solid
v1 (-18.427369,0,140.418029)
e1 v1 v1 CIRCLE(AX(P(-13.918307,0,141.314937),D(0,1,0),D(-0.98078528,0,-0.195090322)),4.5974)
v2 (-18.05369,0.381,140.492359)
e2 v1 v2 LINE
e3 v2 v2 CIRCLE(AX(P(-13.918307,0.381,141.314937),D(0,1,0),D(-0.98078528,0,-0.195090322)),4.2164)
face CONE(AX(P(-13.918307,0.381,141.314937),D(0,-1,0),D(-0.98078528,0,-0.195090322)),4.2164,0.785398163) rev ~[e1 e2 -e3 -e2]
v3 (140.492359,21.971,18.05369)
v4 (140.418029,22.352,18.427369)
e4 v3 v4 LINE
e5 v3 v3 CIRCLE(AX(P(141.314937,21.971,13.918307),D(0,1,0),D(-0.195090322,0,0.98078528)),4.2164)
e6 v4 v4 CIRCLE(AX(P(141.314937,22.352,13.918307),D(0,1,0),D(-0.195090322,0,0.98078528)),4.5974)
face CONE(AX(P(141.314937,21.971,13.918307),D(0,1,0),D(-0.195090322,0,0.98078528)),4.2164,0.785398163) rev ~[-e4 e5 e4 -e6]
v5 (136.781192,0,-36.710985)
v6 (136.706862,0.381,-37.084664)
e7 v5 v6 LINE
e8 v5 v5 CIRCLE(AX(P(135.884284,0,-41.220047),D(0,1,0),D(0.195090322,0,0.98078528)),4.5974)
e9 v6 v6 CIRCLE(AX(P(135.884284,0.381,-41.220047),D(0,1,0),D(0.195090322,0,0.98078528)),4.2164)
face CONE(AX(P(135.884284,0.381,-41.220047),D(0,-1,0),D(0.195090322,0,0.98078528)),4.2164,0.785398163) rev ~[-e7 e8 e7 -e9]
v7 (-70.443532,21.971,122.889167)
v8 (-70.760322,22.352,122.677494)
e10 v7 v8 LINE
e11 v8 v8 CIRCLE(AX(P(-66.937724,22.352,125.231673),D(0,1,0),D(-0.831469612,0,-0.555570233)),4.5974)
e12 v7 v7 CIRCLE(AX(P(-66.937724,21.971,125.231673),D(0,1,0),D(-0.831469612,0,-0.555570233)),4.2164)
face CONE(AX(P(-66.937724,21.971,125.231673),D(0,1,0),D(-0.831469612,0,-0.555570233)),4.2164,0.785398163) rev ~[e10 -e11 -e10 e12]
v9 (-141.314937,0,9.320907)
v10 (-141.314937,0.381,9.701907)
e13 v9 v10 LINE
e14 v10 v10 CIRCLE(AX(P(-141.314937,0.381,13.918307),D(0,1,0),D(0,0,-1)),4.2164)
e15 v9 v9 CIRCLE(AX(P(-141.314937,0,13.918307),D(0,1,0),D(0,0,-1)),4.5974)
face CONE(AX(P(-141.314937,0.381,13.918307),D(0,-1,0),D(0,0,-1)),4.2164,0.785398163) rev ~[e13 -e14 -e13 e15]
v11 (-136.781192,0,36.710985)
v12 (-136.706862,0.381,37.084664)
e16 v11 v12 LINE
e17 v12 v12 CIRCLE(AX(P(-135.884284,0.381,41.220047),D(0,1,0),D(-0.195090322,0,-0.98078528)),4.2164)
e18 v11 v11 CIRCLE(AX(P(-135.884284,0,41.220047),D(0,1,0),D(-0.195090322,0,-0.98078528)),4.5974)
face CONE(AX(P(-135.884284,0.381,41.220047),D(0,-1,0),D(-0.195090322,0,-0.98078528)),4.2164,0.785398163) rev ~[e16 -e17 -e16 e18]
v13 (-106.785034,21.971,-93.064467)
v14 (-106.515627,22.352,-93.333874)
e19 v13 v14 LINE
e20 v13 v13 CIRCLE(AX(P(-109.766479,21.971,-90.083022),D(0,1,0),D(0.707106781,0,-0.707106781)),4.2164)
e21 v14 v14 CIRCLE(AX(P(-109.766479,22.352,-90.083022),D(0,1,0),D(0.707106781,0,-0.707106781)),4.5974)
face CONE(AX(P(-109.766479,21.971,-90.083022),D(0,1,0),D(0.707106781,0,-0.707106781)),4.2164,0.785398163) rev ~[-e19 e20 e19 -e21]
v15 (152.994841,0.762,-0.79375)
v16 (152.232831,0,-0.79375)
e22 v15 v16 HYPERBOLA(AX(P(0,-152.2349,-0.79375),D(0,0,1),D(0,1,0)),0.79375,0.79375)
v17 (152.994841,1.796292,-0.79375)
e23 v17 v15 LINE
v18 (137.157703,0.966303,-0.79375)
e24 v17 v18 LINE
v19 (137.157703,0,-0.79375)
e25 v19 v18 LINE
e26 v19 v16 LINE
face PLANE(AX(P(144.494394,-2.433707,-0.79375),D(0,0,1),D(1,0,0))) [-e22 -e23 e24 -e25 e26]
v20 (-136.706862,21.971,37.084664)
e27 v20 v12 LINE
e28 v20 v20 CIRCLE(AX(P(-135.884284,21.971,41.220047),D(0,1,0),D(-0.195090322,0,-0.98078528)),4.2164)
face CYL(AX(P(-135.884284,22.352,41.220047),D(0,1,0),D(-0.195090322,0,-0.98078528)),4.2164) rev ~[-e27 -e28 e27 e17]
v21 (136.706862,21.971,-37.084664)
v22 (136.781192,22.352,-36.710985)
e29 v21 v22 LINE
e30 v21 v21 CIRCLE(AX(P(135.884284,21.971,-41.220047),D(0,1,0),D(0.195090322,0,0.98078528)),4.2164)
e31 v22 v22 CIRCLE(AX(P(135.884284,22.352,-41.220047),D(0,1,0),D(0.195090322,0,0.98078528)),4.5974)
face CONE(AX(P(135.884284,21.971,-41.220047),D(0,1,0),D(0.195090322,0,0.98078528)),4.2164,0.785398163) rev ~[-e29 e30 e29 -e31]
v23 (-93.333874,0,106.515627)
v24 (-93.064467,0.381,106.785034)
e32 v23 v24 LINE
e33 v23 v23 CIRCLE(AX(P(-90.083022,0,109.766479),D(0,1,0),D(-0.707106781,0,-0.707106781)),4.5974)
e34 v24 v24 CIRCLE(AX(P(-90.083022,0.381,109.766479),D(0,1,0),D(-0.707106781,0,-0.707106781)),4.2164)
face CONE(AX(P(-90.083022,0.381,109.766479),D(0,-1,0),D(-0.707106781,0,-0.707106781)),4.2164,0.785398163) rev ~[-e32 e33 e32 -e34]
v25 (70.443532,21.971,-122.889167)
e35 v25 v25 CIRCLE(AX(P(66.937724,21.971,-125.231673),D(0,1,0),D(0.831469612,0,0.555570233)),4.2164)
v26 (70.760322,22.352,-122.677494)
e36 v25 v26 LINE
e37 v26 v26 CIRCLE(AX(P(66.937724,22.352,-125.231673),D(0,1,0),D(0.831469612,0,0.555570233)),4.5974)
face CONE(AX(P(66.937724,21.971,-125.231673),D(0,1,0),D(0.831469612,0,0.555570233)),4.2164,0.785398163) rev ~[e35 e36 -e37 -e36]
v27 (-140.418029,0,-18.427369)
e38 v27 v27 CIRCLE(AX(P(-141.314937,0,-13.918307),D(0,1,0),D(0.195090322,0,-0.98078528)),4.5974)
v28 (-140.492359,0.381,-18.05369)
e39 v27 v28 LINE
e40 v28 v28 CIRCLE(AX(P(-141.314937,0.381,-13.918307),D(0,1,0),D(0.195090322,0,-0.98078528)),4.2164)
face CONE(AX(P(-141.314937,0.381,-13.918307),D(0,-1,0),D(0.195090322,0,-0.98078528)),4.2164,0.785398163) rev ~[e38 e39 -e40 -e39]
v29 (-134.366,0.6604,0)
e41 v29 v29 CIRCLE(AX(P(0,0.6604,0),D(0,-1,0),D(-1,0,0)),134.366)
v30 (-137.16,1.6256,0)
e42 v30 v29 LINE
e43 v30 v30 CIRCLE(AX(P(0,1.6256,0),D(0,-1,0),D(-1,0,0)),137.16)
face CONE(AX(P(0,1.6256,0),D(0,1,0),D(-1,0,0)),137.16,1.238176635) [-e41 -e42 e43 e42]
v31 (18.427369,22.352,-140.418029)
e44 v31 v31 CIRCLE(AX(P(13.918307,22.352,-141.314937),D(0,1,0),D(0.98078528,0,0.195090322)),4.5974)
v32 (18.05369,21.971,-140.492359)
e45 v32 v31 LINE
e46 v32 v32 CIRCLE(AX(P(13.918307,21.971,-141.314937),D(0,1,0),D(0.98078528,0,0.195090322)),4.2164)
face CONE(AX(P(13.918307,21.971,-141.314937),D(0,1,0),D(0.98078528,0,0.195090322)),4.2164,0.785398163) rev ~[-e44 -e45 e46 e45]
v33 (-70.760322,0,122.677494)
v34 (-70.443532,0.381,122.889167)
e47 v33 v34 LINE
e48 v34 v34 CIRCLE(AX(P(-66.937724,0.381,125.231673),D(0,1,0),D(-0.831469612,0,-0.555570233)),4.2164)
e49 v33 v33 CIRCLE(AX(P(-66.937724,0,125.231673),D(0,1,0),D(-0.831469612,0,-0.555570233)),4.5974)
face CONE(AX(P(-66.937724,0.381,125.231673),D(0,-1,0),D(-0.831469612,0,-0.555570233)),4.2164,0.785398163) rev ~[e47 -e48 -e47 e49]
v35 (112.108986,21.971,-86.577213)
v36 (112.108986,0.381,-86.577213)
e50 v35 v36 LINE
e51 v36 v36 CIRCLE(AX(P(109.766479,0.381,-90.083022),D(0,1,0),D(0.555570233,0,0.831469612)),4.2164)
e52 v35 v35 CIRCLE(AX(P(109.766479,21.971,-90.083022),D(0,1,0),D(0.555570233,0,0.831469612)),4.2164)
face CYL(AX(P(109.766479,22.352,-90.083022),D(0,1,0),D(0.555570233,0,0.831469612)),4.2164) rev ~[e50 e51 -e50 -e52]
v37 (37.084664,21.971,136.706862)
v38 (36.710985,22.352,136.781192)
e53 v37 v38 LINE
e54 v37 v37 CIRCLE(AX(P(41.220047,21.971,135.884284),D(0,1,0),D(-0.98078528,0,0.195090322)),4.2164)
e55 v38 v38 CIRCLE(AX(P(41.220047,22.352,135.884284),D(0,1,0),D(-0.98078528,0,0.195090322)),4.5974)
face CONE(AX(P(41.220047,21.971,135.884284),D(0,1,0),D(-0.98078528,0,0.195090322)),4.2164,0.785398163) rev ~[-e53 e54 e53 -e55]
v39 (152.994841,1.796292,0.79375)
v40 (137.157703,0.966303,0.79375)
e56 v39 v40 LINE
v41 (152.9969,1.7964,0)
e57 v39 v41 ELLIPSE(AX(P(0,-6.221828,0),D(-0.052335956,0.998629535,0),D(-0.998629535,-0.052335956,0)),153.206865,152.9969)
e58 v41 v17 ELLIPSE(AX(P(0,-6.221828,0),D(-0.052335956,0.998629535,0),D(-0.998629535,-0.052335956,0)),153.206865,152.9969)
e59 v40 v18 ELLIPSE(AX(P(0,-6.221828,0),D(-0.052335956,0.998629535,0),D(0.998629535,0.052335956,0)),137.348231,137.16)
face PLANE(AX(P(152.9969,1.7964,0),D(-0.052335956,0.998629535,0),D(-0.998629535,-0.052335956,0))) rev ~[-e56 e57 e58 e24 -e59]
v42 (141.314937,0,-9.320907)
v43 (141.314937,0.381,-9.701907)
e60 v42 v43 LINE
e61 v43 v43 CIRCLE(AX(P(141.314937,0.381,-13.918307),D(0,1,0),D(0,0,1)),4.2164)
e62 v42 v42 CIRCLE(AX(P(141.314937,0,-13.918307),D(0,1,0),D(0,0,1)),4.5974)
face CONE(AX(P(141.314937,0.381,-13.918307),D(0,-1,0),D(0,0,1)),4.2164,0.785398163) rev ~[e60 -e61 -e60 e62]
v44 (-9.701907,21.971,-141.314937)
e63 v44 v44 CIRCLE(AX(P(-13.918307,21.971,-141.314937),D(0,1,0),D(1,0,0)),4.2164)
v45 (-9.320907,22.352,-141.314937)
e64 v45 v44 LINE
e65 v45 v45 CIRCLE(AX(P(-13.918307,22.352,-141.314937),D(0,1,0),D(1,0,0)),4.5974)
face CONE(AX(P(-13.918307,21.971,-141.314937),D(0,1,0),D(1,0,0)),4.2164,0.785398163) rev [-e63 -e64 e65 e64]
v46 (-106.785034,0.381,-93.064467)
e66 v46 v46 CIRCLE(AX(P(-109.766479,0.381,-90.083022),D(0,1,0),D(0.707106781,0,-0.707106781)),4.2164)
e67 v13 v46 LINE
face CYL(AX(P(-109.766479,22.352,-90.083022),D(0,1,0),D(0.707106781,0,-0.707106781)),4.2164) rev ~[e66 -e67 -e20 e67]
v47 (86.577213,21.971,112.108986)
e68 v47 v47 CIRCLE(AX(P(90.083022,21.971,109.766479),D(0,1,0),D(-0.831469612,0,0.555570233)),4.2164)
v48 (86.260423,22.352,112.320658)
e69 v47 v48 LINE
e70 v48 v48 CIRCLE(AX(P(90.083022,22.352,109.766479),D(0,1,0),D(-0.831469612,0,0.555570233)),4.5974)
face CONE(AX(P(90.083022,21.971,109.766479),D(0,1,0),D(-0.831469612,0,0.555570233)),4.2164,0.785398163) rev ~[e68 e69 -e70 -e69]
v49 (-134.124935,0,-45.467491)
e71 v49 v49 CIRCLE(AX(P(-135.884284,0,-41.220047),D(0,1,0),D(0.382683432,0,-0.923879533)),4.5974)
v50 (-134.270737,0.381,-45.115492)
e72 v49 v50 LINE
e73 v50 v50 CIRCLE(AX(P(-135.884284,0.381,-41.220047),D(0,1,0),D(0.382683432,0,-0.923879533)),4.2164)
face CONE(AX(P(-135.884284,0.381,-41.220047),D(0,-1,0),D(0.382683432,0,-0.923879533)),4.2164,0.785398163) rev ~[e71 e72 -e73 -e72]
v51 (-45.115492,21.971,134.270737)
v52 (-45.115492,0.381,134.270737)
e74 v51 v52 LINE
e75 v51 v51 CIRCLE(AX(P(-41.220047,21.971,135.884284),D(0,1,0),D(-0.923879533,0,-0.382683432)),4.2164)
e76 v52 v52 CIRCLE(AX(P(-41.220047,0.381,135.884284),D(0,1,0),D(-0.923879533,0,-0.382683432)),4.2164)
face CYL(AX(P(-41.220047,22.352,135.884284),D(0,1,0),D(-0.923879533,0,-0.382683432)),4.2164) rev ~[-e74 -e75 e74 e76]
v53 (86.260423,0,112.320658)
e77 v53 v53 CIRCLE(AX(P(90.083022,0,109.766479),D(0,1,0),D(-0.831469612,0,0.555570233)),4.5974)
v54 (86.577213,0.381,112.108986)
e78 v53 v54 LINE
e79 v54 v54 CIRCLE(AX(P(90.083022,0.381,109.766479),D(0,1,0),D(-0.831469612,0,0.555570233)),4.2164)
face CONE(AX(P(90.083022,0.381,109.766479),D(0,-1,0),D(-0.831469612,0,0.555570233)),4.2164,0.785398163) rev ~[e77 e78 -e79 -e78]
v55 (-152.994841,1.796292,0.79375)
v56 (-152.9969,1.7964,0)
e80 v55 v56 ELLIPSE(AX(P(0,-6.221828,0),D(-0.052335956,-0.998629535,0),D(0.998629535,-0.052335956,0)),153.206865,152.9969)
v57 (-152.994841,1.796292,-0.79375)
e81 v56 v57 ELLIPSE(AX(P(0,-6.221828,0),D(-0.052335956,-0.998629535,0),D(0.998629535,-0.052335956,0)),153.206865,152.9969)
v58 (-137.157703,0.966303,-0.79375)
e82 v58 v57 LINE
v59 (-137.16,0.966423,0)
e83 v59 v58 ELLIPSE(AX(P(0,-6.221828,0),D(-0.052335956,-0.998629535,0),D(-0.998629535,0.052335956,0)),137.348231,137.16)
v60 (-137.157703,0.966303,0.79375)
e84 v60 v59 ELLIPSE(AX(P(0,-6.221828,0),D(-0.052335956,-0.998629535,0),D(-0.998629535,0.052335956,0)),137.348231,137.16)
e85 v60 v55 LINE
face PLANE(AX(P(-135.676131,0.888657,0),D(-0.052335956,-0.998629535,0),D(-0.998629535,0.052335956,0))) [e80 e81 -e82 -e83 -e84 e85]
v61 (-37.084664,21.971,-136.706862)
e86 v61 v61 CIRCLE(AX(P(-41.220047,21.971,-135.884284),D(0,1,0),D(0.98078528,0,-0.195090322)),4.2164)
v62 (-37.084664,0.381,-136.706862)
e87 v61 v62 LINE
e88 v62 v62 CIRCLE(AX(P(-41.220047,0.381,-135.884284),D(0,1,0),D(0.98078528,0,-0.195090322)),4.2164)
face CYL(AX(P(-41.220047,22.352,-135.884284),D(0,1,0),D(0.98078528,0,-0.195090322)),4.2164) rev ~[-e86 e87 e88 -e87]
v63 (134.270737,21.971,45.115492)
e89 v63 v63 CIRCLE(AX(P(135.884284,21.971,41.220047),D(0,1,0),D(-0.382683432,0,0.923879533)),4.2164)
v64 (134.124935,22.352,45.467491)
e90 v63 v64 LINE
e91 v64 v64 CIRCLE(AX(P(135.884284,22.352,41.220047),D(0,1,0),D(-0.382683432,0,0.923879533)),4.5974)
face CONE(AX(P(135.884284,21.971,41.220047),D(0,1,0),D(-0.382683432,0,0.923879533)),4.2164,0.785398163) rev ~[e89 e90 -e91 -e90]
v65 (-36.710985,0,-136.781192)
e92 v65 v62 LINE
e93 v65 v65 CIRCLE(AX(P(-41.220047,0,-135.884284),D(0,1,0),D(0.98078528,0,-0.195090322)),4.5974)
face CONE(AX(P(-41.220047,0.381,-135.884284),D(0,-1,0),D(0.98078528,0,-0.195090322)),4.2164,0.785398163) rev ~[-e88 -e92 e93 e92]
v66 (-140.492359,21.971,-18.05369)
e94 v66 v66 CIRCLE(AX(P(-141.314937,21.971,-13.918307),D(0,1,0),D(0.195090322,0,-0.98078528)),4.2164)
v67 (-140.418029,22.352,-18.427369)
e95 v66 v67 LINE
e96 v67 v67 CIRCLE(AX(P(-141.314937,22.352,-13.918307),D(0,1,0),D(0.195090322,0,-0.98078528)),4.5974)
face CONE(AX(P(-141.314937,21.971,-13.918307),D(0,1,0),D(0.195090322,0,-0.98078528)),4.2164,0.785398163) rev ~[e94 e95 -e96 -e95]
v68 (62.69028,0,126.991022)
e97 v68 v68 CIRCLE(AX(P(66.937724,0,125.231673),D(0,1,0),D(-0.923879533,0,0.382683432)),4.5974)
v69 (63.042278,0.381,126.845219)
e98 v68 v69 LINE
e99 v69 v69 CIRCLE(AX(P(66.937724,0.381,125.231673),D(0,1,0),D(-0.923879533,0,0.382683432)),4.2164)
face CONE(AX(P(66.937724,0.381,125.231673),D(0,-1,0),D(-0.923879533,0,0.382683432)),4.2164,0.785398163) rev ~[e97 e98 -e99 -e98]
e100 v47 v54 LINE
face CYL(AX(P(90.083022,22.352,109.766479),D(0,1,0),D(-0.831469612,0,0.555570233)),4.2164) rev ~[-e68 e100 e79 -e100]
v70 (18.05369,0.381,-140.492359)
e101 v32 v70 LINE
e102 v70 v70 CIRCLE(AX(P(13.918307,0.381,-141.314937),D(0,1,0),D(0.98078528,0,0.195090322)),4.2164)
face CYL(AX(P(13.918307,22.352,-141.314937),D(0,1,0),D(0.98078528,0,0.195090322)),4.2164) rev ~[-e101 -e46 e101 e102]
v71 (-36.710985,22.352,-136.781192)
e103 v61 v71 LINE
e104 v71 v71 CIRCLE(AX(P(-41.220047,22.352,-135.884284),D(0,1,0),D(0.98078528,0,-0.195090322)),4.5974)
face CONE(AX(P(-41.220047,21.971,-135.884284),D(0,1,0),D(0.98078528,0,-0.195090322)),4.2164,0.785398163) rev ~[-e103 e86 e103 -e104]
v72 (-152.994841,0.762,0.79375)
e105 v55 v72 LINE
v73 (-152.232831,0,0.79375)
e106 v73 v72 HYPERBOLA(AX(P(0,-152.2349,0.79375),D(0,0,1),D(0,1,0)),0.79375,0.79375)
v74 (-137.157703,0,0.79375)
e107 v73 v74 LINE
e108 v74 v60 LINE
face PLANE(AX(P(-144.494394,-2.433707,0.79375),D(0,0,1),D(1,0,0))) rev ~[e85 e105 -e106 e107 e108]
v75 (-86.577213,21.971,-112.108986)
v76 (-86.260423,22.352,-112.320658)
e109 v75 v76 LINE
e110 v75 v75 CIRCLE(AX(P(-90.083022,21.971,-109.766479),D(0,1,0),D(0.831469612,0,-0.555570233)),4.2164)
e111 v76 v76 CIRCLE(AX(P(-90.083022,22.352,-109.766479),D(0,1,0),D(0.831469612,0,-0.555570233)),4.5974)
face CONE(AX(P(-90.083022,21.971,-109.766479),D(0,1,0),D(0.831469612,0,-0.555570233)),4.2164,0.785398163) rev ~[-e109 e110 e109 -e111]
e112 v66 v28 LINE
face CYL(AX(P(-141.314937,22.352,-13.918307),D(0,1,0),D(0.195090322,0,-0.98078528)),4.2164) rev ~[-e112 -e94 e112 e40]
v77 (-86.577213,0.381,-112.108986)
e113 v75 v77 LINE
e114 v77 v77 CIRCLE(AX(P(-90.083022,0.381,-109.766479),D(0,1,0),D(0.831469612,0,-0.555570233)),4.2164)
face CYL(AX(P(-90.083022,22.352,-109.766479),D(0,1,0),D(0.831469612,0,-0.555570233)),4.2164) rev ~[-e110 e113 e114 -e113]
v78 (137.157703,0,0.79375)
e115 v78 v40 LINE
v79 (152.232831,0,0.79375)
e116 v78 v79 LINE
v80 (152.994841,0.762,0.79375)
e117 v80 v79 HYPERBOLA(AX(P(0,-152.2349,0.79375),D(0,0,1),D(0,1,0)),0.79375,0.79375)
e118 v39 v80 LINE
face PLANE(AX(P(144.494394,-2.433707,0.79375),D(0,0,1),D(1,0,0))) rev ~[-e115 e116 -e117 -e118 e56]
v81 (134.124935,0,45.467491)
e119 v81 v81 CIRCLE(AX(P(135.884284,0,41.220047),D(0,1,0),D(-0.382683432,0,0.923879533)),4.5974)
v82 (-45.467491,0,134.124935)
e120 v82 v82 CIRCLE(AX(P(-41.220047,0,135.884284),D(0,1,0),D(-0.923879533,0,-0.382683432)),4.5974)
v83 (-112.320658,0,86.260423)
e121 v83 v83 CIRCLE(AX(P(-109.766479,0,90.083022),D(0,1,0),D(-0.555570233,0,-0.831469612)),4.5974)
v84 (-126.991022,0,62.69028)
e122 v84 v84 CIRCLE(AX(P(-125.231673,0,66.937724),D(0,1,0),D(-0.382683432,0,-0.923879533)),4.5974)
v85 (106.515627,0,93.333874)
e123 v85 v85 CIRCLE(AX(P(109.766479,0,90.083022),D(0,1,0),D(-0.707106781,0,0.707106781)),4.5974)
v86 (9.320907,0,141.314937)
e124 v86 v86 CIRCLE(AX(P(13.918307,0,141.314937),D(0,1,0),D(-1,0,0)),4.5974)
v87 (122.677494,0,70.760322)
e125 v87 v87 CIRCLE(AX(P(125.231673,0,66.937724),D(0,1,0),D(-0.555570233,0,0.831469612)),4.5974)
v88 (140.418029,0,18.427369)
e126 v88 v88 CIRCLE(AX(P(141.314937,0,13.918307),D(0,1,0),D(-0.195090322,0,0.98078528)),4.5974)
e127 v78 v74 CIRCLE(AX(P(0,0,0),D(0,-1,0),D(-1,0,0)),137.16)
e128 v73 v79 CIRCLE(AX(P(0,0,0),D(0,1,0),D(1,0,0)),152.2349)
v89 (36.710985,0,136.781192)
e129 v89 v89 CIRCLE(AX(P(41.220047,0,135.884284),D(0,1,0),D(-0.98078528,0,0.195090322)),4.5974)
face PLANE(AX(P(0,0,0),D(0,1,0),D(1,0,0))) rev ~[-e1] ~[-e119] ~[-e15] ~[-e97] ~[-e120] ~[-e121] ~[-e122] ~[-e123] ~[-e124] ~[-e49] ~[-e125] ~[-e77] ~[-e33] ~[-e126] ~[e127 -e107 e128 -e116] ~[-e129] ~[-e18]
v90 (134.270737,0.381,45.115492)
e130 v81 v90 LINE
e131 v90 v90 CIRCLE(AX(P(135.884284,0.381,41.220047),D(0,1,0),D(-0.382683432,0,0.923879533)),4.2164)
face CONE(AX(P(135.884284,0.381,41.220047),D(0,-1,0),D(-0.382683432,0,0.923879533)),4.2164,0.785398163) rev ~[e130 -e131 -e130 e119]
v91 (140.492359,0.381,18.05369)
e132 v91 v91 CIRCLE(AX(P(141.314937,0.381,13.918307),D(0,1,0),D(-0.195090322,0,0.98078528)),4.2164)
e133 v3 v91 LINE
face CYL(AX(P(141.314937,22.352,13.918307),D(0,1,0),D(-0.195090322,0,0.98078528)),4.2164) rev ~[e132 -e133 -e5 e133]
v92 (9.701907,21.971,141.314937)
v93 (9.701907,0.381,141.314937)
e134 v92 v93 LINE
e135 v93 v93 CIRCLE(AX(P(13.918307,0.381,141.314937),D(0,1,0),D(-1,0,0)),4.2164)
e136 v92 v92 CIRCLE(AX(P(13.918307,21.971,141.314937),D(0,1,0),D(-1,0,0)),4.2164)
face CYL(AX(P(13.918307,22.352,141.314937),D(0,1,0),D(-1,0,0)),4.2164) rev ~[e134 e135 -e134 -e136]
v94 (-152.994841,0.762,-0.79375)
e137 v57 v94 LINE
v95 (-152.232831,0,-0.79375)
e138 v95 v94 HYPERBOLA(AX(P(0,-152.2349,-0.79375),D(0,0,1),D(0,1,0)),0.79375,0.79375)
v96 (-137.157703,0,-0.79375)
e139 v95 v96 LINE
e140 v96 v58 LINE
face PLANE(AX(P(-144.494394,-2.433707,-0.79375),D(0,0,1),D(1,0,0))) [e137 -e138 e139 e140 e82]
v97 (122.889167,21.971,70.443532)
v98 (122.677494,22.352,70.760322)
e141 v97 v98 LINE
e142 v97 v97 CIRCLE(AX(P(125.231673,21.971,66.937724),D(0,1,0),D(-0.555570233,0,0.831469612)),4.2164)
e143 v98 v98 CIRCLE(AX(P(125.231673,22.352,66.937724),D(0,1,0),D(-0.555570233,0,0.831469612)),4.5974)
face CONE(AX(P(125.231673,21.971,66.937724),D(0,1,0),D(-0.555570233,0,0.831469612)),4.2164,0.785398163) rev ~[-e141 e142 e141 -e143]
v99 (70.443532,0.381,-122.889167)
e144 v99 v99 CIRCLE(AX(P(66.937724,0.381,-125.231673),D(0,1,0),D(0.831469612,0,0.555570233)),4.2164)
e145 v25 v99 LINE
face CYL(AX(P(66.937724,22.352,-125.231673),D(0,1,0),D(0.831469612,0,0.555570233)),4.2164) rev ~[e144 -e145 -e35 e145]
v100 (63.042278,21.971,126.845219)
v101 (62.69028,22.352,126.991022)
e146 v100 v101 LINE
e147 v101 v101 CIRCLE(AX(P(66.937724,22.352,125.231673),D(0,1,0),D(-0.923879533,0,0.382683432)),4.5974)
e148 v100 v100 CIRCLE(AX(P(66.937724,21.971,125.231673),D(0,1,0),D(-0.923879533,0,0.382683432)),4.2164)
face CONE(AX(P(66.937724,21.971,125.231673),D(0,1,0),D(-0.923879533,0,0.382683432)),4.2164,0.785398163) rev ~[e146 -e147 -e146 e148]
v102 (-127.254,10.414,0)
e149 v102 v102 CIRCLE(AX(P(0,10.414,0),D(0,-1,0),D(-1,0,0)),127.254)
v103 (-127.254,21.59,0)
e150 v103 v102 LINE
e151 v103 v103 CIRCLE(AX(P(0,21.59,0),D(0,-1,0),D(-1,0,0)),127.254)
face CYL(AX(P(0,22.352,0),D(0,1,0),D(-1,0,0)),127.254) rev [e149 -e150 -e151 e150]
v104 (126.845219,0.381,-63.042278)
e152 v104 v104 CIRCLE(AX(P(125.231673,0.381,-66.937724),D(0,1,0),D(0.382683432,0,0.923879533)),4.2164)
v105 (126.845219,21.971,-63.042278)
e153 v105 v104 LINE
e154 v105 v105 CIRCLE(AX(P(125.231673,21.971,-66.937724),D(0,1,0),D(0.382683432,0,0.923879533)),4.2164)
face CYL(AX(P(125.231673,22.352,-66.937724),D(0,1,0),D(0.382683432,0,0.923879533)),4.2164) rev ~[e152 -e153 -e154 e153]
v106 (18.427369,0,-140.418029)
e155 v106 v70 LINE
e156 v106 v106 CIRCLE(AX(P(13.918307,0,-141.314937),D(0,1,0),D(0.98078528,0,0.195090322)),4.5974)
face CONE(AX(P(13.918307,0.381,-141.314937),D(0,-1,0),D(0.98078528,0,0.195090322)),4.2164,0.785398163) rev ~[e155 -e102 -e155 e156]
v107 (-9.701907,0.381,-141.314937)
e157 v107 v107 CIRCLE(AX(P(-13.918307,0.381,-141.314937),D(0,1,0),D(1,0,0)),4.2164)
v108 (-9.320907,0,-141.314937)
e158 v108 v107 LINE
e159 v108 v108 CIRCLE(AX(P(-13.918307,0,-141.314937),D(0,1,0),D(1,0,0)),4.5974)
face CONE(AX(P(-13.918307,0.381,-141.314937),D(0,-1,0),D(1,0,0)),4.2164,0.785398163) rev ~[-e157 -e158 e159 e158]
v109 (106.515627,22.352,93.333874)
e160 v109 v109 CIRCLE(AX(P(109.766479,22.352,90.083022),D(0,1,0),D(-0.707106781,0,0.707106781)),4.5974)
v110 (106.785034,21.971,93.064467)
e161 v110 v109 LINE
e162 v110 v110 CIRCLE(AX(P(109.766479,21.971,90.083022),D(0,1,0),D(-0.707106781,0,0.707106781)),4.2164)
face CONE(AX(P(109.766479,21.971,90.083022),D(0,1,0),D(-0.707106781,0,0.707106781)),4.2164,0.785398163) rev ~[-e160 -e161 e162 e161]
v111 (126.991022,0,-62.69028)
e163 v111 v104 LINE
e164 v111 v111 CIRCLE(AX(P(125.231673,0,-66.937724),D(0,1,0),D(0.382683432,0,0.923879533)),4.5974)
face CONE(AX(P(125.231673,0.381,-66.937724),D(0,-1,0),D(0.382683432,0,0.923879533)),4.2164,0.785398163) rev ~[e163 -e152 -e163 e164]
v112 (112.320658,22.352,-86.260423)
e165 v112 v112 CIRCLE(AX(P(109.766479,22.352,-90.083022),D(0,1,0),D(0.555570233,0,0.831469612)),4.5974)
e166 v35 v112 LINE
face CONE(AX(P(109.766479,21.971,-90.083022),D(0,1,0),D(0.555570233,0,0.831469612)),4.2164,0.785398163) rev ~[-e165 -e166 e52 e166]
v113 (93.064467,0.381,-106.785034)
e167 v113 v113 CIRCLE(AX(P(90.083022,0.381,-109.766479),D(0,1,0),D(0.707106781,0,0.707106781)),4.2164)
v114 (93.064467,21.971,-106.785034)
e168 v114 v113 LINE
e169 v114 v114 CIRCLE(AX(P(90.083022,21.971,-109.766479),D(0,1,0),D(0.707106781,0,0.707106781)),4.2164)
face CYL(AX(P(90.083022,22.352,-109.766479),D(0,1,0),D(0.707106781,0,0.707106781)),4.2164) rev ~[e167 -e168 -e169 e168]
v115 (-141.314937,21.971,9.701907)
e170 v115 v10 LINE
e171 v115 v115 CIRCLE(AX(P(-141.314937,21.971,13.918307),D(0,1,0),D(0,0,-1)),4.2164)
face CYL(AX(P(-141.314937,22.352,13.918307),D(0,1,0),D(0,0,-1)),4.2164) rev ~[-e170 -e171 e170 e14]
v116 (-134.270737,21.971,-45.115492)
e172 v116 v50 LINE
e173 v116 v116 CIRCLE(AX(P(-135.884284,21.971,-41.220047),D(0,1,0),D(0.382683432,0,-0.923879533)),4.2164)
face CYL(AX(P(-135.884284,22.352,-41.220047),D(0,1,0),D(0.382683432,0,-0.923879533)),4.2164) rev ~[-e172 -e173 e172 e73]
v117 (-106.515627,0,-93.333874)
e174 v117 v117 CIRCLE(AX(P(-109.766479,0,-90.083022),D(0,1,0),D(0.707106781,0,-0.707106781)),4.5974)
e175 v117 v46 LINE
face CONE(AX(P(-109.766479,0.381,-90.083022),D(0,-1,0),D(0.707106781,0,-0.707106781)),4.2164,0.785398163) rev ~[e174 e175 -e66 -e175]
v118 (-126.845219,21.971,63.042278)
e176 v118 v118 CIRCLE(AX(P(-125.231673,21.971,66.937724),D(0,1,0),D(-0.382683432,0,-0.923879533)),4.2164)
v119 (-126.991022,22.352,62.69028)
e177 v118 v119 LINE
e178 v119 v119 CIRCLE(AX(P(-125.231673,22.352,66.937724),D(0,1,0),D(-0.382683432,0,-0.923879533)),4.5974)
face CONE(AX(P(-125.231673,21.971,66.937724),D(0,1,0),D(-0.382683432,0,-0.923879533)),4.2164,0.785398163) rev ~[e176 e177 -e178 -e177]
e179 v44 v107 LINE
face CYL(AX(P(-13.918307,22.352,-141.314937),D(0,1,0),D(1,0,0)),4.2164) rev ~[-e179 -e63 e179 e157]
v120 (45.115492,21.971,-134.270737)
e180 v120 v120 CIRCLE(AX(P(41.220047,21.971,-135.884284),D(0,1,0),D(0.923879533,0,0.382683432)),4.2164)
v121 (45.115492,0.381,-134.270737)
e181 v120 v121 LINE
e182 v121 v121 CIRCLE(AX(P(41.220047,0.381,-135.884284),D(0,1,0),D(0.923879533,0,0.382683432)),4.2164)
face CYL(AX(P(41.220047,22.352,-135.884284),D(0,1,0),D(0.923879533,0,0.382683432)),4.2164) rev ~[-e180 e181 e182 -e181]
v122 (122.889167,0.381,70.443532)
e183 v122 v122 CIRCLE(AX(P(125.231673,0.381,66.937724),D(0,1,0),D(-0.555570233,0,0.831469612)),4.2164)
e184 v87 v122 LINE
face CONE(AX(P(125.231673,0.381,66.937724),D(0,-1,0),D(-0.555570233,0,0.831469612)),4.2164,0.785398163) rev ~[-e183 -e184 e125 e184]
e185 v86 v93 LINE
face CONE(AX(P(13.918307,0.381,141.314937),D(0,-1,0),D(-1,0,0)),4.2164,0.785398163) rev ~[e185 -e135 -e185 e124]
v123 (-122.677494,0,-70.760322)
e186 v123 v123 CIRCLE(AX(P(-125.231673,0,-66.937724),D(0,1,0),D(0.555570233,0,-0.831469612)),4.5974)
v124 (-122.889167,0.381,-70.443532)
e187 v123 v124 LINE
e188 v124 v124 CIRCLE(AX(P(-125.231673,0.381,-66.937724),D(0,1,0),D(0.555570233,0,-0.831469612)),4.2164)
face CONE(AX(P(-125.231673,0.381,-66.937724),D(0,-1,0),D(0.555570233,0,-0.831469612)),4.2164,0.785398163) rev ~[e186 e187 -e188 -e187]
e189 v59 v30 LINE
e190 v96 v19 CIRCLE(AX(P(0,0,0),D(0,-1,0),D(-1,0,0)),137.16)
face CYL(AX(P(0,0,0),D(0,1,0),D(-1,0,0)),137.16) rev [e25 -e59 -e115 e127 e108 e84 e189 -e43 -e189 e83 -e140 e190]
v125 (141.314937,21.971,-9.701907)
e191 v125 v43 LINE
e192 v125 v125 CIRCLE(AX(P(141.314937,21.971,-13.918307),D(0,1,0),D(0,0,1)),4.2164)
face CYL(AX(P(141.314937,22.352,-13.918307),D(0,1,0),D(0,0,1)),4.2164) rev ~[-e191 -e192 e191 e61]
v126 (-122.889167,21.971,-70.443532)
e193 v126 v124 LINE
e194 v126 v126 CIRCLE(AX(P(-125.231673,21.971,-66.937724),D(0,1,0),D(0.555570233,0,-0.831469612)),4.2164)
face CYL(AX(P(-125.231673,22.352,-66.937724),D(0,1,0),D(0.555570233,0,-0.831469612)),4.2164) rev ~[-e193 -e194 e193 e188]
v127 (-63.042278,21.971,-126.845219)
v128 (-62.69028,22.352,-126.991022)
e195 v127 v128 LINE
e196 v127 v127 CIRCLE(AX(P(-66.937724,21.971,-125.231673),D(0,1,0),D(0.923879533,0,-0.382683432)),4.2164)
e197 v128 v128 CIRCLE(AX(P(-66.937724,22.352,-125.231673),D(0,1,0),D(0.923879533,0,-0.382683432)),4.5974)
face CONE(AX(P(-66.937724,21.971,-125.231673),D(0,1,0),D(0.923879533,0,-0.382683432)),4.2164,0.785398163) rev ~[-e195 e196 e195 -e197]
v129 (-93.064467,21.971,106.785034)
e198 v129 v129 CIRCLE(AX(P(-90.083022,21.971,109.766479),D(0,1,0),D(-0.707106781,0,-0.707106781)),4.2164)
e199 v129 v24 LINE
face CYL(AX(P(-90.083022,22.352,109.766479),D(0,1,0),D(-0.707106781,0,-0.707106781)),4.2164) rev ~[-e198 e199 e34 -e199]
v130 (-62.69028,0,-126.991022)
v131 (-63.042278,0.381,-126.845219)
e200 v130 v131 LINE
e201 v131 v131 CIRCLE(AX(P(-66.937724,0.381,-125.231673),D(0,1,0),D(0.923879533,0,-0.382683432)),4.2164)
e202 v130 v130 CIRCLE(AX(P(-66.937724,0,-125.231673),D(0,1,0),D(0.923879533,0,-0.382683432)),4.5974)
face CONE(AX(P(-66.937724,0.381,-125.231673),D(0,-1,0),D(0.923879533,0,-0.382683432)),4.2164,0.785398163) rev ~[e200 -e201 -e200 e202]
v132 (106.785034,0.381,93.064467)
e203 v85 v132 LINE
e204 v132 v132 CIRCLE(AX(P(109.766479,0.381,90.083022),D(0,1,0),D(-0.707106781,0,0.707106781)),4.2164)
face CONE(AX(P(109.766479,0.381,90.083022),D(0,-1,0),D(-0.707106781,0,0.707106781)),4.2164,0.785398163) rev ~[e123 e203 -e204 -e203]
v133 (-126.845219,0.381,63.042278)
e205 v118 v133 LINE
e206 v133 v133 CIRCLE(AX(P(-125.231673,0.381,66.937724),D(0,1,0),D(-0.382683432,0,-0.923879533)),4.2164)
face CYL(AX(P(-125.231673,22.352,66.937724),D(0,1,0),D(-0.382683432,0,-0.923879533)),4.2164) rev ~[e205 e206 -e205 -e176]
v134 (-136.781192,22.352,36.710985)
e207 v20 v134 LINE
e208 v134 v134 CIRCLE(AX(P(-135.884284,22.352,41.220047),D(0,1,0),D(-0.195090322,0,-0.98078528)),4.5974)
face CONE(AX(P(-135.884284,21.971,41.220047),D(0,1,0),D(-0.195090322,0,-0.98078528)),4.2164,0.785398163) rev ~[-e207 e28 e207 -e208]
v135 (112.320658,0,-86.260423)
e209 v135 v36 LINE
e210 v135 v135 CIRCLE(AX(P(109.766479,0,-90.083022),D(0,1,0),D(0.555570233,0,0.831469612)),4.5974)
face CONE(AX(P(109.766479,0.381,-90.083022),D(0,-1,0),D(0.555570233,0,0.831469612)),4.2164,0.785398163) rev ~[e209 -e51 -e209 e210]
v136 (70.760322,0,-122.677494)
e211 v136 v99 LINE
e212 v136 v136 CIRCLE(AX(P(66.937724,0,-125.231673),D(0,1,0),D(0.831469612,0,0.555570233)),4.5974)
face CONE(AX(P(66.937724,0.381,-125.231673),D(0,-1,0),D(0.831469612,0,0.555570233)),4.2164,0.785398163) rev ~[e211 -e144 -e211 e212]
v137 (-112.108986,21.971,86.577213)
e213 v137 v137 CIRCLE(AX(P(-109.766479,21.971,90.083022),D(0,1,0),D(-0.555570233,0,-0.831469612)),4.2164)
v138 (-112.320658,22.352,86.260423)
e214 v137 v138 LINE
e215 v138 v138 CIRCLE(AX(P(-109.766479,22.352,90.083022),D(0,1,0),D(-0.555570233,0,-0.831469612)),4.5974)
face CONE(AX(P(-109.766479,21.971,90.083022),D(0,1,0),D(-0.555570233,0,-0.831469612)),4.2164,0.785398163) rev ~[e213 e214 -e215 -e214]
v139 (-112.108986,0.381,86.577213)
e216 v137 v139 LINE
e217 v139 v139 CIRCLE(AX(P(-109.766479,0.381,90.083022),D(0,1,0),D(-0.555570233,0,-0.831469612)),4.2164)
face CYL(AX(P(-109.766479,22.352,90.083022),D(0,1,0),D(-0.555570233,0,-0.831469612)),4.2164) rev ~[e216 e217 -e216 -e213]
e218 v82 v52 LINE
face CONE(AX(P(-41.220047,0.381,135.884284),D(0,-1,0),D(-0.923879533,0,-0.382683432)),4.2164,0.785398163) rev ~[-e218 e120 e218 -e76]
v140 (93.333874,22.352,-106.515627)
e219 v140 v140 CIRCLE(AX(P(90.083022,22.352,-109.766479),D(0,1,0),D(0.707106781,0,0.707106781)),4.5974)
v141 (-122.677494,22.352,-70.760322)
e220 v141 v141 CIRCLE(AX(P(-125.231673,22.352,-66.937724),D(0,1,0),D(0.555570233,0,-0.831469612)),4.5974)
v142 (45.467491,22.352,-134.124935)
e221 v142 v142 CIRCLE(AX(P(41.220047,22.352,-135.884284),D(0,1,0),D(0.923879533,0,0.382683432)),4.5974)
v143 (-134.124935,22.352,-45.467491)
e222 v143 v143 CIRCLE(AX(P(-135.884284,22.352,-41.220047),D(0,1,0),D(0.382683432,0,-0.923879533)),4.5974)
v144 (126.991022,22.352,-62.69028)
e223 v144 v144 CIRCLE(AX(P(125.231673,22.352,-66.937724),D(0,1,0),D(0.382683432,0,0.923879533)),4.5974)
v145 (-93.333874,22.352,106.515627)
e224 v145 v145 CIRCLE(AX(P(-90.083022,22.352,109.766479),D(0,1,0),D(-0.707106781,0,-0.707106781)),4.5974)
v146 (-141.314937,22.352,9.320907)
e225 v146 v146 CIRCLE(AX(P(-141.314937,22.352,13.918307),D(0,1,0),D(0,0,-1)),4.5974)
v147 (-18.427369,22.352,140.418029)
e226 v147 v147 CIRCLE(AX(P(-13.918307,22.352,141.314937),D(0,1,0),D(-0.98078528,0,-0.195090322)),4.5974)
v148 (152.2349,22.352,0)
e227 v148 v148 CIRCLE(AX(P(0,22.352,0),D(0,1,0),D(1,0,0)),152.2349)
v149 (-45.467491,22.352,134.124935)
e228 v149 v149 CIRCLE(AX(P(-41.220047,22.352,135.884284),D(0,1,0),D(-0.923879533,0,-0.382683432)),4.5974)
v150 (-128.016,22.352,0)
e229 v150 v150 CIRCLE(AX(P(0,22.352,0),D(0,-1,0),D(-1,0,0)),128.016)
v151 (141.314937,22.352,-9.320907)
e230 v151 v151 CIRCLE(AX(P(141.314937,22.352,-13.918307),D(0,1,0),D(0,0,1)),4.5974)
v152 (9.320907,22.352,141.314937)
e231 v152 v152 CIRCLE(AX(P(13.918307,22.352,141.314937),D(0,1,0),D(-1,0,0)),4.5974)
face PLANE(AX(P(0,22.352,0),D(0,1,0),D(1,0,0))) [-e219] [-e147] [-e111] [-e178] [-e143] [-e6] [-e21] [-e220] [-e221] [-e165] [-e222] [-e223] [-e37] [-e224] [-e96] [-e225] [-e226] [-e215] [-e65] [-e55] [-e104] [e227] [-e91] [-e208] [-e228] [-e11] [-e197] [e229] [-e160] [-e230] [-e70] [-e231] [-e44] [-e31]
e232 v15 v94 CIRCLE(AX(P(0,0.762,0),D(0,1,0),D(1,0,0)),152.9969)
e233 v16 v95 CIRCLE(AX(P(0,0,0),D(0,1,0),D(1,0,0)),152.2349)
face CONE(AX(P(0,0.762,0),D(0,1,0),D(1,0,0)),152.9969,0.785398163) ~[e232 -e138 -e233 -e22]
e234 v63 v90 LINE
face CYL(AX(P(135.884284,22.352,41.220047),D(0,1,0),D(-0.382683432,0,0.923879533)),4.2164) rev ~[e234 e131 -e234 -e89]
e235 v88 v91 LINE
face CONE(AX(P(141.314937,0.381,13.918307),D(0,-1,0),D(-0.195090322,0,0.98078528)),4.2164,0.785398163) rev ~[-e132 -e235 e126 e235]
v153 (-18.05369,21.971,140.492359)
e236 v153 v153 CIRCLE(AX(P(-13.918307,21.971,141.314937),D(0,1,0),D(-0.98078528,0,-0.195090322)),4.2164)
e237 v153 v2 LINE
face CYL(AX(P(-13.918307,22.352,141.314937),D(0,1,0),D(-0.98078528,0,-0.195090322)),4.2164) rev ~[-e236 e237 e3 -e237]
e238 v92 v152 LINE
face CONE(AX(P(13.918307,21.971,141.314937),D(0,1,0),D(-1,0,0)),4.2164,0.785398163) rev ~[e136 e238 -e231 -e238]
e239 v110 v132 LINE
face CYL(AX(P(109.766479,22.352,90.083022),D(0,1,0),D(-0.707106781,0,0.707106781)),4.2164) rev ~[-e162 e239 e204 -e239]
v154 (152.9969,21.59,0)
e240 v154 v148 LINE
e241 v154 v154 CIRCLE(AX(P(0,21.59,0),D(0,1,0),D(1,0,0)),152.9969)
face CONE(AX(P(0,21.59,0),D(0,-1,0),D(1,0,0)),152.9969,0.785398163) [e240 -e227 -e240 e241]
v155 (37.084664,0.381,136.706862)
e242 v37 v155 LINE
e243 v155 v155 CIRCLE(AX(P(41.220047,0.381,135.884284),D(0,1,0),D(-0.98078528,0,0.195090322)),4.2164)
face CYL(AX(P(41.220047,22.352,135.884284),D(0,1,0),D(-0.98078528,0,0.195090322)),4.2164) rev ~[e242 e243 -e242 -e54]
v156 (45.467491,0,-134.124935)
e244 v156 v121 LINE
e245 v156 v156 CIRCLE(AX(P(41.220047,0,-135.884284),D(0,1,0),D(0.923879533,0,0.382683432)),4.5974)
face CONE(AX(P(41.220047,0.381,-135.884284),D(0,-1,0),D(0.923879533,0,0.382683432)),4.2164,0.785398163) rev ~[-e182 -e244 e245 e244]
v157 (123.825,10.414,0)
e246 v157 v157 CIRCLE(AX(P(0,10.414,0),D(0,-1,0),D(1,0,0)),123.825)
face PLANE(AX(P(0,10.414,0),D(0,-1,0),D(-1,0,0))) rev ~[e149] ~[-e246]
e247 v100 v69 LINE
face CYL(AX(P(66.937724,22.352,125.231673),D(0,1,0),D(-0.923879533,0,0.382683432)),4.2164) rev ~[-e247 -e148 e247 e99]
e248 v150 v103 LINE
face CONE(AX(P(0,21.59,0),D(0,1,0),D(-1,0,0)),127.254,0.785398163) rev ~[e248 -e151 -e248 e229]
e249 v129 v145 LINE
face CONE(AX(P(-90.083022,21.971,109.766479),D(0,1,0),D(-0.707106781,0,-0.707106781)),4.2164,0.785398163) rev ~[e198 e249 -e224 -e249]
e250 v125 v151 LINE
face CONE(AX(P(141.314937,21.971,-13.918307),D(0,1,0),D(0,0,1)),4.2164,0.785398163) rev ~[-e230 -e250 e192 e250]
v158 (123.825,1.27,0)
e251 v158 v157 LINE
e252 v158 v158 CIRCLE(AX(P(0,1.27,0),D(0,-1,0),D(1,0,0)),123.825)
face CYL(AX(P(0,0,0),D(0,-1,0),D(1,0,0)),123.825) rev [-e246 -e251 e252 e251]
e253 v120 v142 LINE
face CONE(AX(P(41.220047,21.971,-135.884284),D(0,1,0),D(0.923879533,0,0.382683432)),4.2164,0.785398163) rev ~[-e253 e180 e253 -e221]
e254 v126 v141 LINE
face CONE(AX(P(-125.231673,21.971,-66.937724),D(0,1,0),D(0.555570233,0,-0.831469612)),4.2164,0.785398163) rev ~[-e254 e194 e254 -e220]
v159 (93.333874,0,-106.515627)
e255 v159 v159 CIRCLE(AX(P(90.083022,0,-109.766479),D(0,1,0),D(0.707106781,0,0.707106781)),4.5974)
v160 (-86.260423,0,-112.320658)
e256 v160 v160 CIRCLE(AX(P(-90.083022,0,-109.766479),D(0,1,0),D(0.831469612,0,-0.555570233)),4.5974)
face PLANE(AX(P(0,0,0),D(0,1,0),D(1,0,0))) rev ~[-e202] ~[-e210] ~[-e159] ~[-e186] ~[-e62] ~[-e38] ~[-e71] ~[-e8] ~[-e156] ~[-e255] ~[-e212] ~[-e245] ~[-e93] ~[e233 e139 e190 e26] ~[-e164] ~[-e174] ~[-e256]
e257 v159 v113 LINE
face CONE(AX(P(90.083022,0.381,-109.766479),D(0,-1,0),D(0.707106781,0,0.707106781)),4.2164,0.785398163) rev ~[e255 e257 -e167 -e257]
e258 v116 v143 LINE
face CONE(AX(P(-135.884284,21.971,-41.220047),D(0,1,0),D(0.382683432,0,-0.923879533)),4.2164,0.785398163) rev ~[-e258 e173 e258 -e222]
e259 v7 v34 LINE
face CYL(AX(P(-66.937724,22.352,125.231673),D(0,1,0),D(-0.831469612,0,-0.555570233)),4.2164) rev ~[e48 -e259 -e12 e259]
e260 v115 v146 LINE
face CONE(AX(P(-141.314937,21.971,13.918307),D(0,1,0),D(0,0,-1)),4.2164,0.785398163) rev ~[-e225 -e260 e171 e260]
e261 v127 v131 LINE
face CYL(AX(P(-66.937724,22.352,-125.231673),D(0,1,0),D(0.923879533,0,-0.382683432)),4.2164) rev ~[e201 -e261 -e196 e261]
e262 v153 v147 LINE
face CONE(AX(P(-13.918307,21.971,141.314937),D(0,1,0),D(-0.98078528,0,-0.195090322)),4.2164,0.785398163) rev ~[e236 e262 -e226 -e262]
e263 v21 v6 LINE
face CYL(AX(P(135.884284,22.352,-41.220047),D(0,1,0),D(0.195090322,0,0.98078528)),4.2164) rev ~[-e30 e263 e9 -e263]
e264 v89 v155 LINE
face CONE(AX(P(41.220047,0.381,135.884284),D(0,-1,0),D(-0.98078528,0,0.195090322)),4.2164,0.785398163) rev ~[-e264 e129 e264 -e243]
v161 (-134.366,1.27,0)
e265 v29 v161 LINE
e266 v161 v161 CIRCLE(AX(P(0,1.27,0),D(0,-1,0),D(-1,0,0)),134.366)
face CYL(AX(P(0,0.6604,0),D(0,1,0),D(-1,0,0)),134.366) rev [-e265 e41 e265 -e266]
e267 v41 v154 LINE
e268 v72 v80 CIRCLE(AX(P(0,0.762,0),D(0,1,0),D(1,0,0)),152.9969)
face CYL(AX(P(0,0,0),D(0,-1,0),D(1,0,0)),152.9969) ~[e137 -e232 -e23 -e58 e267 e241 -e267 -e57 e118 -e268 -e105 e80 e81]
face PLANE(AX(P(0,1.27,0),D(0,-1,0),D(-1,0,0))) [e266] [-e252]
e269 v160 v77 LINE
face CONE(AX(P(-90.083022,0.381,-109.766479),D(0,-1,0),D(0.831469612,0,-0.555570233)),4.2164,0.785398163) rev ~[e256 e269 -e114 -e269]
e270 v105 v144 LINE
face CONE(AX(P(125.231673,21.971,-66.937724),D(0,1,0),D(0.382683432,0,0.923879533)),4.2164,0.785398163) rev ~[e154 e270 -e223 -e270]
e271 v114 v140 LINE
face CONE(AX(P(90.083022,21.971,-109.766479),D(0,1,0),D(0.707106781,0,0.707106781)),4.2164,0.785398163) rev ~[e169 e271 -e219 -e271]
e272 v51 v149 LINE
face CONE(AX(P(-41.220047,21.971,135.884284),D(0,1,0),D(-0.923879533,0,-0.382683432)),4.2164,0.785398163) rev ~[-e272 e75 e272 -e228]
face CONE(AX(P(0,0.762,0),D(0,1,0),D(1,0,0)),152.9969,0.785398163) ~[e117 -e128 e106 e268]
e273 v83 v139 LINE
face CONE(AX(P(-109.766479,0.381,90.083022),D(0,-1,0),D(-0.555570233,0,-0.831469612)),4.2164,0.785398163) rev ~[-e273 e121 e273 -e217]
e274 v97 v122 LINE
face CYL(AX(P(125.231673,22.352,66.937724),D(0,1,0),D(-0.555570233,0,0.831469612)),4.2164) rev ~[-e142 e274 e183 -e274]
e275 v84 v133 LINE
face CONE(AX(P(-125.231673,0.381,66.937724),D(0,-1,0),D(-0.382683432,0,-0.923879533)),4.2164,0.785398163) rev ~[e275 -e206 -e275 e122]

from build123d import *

# Parameters (mm, degrees)
SKETCH1_R                    = 152.9969
SKETCH1_R_2                  = 123.825
BOSS_EXTRUDE1_DEPTH          = 22.352
SKETCH2_R                    = 127.254
CUT_EXTRUDE1_DEPTH           = 11.938
CHAMFER1_SIZE                = 0.762
SKETCH3_R                    = 4.2164
CUT_EXTRUDE2_DEPTH           = 23.352
CHAMFER2_SIZE                = 0.381
CIRPATTERN1_COUNT            = 32
CHAMFER2_OF_CIRPATTERN1_SIZE = 0.381
CUT_EXTRUDE3_DEPTH           = 0.79375


with BuildPart() as part:
    # Sketch1 → Boss-Extrude1 (new body)
    with BuildSketch(Plane(origin=(0, 0, 0), x_dir=(1, 0, 0), z_dir=(0, 1, 0))):
        Circle(SKETCH1_R)
        Circle(SKETCH1_R_2, mode=Mode.SUBTRACT)
    extrude(amount=BOSS_EXTRUDE1_DEPTH)

    # Sketch2 → Cut-Extrude1 (cut)
    with BuildSketch(Plane(origin=(0, 22.352, 0), x_dir=(-1, 0, 0), z_dir=(0, -1, 0))):
        Circle(SKETCH2_R)
    extrude(amount=CUT_EXTRUDE1_DEPTH, mode=Mode.SUBTRACT)

    # Chamfer1
    chamfer1_edges = [part.edges().sort_by_distance(p)[0] for p in [
        (127.254, 22.352, 0),
        (-152.9969, 0, 0),
        (-152.9969, 22.352, 0),
    ]]
    chamfer(chamfer1_edges, length=CHAMFER1_SIZE)

    # Sketch4 → Cut-Revolve1 (revolve, cut)
    with BuildSketch(Plane.XY):
        Polygon((-137.16, 0), (-137.16, 1.6256), (-134.366, 0.6604), (-134.366, 1.27), (0, 1.27), (0, 0), align=None)
    revolve(axis=Axis((0, 22.352, 0), (0, -1, 0)), mode=Mode.SUBTRACT)

    # Sketch3 → Cut-Extrude2 (cut, through all)
    with BuildSketch(Plane(origin=(0, 22.352, 0), x_dir=(1, 0, 0), z_dir=(0, 1, 0))):
        with Locations((-13.918306505, 141.314937447)):
            Circle(SKETCH3_R)
    cut_extrude2 = extrude(amount=-CUT_EXTRUDE2_DEPTH, mode=Mode.SUBTRACT)

    # Chamfer2
    chamfer2_edges = [part.edges().sort_by_distance(p)[0] for p in [
        (-18.134706505, 0, -141.314937447),
        (-18.134706505, 22.352, -141.314937447),
    ]]
    chamfer(chamfer2_edges, length=CHAMFER2_SIZE)

    # CirPattern1: Cut-Extrude2 ×32 about axis
    cirpattern1_axis = Axis((0, 0, 0), (0, 1, 0))
    for i in range(1, CIRPATTERN1_COUNT):
        add(cut_extrude2.rotate(cirpattern1_axis, i * 360 / CIRPATTERN1_COUNT), mode=Mode.SUBTRACT)

    # Chamfer2 of CirPattern1
    chamfer2_of_cirpattern1_edges = [part.edges().sort_by_distance(p)[0] for p in [
        (-45.355429856, 0, -135.061704818),
        (-45.355429856, 22.352, -135.061704818),
        (-70.833169474, 0, -123.618126616),
        (-70.833169474, 22.352, -123.618126616),
        (-93.588830113, 0, -107.423973133),
        (-93.588830113, 22.352, -107.423973133),
        (-112.747924496, 0, -87.101576608),
        (-112.747924496, 22.352, -87.101576608),
        (-127.57417937, 0, -63.43191534),
        (-127.57417937, 22.352, -63.43191534),
        (-137.497830076, 0, -37.324601139),
        (-137.497830076, 22.352, -37.324601139),
        (-142.137516281, 0, -9.782923448),
        (-142.137516281, 22.352, -9.782923448),
        (-141.314937447, 0, 18.134706505),
        (-141.314937447, 22.352, 18.134706505),
        (-135.061704818, 0, 45.355429856),
        (-135.061704818, 22.352, 45.355429856),
        (-123.618126616, 0, 70.833169474),
        (-123.618126616, 22.352, 70.833169474),
        (-107.423973133, 0, 93.588830113),
        (-107.423973133, 22.352, 93.588830113),
        (-87.101576608, 0, 112.747924496),
        (-87.101576608, 22.352, 112.747924496),
        (-63.43191534, 0, 127.57417937),
        (-63.43191534, 22.352, 127.57417937),
        (-37.324601139, 0, 137.497830076),
        (-37.324601139, 22.352, 137.497830076),
        (-9.782923448, 0, 142.137516281),
        (-9.782923448, 22.352, 142.137516281),
        (18.134706505, 0, 141.314937447),
        (18.134706505, 22.352, 141.314937447),
        (45.355429856, 0, 135.061704818),
        (45.355429856, 22.352, 135.061704818),
        (70.833169474, 0, 123.618126616),
        (70.833169474, 22.352, 123.618126616),
        (93.588830113, 0, 107.423973133),
        (93.588830113, 22.352, 107.423973133),
        (112.747924496, 0, 87.101576608),
        (112.747924496, 22.352, 87.101576608),
        (127.57417937, 0, 63.43191534),
        (127.57417937, 22.352, 63.43191534),
        (137.497830076, 0, 37.324601139),
        (137.497830076, 22.352, 37.324601139),
        (142.137516281, 0, 9.782923448),
        (142.137516281, 22.352, 9.782923448),
        (141.314937447, 0, -18.134706505),
        (141.314937447, 22.352, -18.134706505),
        (135.061704818, 0, -45.355429856),
        (135.061704818, 22.352, -45.355429856),
        (123.618126616, 0, -70.833169474),
        (123.618126616, 22.352, -70.833169474),
        (107.423973133, 0, -93.588830113),
        (107.423973133, 22.352, -93.588830113),
        (87.101576608, 0, -112.747924496),
        (87.101576608, 22.352, -112.747924496),
        (63.43191534, 0, -127.57417937),
        (63.43191534, 22.352, -127.57417937),
        (37.324601139, 0, -137.497830076),
        (37.324601139, 22.352, -137.497830076),
        (9.782923448, 0, -142.137516281),
        (9.782923448, 22.352, -142.137516281),
    ]]
    chamfer(chamfer2_of_cirpattern1_edges, length=CHAMFER2_OF_CIRPATTERN1_SIZE)

    # Sketch5 → Cut-Extrude3 (cut, symmetric)
    with BuildSketch(Plane.XY):
        Polygon((-135.676131126, 0.888656944), (-152.9969, 1.796399976), (-152.9969, -6.22182779), (-135.676131126, -6.22182779), align=None)
        Polygon((135.676131126, 0.888656944), (135.676131126, -6.22182779), (152.9969, -6.22182779), (152.9969, 1.796399976), align=None)
    extrude(amount=CUT_EXTRUDE3_DEPTH, both=True, mode=Mode.SUBTRACT)


solid = part.part
